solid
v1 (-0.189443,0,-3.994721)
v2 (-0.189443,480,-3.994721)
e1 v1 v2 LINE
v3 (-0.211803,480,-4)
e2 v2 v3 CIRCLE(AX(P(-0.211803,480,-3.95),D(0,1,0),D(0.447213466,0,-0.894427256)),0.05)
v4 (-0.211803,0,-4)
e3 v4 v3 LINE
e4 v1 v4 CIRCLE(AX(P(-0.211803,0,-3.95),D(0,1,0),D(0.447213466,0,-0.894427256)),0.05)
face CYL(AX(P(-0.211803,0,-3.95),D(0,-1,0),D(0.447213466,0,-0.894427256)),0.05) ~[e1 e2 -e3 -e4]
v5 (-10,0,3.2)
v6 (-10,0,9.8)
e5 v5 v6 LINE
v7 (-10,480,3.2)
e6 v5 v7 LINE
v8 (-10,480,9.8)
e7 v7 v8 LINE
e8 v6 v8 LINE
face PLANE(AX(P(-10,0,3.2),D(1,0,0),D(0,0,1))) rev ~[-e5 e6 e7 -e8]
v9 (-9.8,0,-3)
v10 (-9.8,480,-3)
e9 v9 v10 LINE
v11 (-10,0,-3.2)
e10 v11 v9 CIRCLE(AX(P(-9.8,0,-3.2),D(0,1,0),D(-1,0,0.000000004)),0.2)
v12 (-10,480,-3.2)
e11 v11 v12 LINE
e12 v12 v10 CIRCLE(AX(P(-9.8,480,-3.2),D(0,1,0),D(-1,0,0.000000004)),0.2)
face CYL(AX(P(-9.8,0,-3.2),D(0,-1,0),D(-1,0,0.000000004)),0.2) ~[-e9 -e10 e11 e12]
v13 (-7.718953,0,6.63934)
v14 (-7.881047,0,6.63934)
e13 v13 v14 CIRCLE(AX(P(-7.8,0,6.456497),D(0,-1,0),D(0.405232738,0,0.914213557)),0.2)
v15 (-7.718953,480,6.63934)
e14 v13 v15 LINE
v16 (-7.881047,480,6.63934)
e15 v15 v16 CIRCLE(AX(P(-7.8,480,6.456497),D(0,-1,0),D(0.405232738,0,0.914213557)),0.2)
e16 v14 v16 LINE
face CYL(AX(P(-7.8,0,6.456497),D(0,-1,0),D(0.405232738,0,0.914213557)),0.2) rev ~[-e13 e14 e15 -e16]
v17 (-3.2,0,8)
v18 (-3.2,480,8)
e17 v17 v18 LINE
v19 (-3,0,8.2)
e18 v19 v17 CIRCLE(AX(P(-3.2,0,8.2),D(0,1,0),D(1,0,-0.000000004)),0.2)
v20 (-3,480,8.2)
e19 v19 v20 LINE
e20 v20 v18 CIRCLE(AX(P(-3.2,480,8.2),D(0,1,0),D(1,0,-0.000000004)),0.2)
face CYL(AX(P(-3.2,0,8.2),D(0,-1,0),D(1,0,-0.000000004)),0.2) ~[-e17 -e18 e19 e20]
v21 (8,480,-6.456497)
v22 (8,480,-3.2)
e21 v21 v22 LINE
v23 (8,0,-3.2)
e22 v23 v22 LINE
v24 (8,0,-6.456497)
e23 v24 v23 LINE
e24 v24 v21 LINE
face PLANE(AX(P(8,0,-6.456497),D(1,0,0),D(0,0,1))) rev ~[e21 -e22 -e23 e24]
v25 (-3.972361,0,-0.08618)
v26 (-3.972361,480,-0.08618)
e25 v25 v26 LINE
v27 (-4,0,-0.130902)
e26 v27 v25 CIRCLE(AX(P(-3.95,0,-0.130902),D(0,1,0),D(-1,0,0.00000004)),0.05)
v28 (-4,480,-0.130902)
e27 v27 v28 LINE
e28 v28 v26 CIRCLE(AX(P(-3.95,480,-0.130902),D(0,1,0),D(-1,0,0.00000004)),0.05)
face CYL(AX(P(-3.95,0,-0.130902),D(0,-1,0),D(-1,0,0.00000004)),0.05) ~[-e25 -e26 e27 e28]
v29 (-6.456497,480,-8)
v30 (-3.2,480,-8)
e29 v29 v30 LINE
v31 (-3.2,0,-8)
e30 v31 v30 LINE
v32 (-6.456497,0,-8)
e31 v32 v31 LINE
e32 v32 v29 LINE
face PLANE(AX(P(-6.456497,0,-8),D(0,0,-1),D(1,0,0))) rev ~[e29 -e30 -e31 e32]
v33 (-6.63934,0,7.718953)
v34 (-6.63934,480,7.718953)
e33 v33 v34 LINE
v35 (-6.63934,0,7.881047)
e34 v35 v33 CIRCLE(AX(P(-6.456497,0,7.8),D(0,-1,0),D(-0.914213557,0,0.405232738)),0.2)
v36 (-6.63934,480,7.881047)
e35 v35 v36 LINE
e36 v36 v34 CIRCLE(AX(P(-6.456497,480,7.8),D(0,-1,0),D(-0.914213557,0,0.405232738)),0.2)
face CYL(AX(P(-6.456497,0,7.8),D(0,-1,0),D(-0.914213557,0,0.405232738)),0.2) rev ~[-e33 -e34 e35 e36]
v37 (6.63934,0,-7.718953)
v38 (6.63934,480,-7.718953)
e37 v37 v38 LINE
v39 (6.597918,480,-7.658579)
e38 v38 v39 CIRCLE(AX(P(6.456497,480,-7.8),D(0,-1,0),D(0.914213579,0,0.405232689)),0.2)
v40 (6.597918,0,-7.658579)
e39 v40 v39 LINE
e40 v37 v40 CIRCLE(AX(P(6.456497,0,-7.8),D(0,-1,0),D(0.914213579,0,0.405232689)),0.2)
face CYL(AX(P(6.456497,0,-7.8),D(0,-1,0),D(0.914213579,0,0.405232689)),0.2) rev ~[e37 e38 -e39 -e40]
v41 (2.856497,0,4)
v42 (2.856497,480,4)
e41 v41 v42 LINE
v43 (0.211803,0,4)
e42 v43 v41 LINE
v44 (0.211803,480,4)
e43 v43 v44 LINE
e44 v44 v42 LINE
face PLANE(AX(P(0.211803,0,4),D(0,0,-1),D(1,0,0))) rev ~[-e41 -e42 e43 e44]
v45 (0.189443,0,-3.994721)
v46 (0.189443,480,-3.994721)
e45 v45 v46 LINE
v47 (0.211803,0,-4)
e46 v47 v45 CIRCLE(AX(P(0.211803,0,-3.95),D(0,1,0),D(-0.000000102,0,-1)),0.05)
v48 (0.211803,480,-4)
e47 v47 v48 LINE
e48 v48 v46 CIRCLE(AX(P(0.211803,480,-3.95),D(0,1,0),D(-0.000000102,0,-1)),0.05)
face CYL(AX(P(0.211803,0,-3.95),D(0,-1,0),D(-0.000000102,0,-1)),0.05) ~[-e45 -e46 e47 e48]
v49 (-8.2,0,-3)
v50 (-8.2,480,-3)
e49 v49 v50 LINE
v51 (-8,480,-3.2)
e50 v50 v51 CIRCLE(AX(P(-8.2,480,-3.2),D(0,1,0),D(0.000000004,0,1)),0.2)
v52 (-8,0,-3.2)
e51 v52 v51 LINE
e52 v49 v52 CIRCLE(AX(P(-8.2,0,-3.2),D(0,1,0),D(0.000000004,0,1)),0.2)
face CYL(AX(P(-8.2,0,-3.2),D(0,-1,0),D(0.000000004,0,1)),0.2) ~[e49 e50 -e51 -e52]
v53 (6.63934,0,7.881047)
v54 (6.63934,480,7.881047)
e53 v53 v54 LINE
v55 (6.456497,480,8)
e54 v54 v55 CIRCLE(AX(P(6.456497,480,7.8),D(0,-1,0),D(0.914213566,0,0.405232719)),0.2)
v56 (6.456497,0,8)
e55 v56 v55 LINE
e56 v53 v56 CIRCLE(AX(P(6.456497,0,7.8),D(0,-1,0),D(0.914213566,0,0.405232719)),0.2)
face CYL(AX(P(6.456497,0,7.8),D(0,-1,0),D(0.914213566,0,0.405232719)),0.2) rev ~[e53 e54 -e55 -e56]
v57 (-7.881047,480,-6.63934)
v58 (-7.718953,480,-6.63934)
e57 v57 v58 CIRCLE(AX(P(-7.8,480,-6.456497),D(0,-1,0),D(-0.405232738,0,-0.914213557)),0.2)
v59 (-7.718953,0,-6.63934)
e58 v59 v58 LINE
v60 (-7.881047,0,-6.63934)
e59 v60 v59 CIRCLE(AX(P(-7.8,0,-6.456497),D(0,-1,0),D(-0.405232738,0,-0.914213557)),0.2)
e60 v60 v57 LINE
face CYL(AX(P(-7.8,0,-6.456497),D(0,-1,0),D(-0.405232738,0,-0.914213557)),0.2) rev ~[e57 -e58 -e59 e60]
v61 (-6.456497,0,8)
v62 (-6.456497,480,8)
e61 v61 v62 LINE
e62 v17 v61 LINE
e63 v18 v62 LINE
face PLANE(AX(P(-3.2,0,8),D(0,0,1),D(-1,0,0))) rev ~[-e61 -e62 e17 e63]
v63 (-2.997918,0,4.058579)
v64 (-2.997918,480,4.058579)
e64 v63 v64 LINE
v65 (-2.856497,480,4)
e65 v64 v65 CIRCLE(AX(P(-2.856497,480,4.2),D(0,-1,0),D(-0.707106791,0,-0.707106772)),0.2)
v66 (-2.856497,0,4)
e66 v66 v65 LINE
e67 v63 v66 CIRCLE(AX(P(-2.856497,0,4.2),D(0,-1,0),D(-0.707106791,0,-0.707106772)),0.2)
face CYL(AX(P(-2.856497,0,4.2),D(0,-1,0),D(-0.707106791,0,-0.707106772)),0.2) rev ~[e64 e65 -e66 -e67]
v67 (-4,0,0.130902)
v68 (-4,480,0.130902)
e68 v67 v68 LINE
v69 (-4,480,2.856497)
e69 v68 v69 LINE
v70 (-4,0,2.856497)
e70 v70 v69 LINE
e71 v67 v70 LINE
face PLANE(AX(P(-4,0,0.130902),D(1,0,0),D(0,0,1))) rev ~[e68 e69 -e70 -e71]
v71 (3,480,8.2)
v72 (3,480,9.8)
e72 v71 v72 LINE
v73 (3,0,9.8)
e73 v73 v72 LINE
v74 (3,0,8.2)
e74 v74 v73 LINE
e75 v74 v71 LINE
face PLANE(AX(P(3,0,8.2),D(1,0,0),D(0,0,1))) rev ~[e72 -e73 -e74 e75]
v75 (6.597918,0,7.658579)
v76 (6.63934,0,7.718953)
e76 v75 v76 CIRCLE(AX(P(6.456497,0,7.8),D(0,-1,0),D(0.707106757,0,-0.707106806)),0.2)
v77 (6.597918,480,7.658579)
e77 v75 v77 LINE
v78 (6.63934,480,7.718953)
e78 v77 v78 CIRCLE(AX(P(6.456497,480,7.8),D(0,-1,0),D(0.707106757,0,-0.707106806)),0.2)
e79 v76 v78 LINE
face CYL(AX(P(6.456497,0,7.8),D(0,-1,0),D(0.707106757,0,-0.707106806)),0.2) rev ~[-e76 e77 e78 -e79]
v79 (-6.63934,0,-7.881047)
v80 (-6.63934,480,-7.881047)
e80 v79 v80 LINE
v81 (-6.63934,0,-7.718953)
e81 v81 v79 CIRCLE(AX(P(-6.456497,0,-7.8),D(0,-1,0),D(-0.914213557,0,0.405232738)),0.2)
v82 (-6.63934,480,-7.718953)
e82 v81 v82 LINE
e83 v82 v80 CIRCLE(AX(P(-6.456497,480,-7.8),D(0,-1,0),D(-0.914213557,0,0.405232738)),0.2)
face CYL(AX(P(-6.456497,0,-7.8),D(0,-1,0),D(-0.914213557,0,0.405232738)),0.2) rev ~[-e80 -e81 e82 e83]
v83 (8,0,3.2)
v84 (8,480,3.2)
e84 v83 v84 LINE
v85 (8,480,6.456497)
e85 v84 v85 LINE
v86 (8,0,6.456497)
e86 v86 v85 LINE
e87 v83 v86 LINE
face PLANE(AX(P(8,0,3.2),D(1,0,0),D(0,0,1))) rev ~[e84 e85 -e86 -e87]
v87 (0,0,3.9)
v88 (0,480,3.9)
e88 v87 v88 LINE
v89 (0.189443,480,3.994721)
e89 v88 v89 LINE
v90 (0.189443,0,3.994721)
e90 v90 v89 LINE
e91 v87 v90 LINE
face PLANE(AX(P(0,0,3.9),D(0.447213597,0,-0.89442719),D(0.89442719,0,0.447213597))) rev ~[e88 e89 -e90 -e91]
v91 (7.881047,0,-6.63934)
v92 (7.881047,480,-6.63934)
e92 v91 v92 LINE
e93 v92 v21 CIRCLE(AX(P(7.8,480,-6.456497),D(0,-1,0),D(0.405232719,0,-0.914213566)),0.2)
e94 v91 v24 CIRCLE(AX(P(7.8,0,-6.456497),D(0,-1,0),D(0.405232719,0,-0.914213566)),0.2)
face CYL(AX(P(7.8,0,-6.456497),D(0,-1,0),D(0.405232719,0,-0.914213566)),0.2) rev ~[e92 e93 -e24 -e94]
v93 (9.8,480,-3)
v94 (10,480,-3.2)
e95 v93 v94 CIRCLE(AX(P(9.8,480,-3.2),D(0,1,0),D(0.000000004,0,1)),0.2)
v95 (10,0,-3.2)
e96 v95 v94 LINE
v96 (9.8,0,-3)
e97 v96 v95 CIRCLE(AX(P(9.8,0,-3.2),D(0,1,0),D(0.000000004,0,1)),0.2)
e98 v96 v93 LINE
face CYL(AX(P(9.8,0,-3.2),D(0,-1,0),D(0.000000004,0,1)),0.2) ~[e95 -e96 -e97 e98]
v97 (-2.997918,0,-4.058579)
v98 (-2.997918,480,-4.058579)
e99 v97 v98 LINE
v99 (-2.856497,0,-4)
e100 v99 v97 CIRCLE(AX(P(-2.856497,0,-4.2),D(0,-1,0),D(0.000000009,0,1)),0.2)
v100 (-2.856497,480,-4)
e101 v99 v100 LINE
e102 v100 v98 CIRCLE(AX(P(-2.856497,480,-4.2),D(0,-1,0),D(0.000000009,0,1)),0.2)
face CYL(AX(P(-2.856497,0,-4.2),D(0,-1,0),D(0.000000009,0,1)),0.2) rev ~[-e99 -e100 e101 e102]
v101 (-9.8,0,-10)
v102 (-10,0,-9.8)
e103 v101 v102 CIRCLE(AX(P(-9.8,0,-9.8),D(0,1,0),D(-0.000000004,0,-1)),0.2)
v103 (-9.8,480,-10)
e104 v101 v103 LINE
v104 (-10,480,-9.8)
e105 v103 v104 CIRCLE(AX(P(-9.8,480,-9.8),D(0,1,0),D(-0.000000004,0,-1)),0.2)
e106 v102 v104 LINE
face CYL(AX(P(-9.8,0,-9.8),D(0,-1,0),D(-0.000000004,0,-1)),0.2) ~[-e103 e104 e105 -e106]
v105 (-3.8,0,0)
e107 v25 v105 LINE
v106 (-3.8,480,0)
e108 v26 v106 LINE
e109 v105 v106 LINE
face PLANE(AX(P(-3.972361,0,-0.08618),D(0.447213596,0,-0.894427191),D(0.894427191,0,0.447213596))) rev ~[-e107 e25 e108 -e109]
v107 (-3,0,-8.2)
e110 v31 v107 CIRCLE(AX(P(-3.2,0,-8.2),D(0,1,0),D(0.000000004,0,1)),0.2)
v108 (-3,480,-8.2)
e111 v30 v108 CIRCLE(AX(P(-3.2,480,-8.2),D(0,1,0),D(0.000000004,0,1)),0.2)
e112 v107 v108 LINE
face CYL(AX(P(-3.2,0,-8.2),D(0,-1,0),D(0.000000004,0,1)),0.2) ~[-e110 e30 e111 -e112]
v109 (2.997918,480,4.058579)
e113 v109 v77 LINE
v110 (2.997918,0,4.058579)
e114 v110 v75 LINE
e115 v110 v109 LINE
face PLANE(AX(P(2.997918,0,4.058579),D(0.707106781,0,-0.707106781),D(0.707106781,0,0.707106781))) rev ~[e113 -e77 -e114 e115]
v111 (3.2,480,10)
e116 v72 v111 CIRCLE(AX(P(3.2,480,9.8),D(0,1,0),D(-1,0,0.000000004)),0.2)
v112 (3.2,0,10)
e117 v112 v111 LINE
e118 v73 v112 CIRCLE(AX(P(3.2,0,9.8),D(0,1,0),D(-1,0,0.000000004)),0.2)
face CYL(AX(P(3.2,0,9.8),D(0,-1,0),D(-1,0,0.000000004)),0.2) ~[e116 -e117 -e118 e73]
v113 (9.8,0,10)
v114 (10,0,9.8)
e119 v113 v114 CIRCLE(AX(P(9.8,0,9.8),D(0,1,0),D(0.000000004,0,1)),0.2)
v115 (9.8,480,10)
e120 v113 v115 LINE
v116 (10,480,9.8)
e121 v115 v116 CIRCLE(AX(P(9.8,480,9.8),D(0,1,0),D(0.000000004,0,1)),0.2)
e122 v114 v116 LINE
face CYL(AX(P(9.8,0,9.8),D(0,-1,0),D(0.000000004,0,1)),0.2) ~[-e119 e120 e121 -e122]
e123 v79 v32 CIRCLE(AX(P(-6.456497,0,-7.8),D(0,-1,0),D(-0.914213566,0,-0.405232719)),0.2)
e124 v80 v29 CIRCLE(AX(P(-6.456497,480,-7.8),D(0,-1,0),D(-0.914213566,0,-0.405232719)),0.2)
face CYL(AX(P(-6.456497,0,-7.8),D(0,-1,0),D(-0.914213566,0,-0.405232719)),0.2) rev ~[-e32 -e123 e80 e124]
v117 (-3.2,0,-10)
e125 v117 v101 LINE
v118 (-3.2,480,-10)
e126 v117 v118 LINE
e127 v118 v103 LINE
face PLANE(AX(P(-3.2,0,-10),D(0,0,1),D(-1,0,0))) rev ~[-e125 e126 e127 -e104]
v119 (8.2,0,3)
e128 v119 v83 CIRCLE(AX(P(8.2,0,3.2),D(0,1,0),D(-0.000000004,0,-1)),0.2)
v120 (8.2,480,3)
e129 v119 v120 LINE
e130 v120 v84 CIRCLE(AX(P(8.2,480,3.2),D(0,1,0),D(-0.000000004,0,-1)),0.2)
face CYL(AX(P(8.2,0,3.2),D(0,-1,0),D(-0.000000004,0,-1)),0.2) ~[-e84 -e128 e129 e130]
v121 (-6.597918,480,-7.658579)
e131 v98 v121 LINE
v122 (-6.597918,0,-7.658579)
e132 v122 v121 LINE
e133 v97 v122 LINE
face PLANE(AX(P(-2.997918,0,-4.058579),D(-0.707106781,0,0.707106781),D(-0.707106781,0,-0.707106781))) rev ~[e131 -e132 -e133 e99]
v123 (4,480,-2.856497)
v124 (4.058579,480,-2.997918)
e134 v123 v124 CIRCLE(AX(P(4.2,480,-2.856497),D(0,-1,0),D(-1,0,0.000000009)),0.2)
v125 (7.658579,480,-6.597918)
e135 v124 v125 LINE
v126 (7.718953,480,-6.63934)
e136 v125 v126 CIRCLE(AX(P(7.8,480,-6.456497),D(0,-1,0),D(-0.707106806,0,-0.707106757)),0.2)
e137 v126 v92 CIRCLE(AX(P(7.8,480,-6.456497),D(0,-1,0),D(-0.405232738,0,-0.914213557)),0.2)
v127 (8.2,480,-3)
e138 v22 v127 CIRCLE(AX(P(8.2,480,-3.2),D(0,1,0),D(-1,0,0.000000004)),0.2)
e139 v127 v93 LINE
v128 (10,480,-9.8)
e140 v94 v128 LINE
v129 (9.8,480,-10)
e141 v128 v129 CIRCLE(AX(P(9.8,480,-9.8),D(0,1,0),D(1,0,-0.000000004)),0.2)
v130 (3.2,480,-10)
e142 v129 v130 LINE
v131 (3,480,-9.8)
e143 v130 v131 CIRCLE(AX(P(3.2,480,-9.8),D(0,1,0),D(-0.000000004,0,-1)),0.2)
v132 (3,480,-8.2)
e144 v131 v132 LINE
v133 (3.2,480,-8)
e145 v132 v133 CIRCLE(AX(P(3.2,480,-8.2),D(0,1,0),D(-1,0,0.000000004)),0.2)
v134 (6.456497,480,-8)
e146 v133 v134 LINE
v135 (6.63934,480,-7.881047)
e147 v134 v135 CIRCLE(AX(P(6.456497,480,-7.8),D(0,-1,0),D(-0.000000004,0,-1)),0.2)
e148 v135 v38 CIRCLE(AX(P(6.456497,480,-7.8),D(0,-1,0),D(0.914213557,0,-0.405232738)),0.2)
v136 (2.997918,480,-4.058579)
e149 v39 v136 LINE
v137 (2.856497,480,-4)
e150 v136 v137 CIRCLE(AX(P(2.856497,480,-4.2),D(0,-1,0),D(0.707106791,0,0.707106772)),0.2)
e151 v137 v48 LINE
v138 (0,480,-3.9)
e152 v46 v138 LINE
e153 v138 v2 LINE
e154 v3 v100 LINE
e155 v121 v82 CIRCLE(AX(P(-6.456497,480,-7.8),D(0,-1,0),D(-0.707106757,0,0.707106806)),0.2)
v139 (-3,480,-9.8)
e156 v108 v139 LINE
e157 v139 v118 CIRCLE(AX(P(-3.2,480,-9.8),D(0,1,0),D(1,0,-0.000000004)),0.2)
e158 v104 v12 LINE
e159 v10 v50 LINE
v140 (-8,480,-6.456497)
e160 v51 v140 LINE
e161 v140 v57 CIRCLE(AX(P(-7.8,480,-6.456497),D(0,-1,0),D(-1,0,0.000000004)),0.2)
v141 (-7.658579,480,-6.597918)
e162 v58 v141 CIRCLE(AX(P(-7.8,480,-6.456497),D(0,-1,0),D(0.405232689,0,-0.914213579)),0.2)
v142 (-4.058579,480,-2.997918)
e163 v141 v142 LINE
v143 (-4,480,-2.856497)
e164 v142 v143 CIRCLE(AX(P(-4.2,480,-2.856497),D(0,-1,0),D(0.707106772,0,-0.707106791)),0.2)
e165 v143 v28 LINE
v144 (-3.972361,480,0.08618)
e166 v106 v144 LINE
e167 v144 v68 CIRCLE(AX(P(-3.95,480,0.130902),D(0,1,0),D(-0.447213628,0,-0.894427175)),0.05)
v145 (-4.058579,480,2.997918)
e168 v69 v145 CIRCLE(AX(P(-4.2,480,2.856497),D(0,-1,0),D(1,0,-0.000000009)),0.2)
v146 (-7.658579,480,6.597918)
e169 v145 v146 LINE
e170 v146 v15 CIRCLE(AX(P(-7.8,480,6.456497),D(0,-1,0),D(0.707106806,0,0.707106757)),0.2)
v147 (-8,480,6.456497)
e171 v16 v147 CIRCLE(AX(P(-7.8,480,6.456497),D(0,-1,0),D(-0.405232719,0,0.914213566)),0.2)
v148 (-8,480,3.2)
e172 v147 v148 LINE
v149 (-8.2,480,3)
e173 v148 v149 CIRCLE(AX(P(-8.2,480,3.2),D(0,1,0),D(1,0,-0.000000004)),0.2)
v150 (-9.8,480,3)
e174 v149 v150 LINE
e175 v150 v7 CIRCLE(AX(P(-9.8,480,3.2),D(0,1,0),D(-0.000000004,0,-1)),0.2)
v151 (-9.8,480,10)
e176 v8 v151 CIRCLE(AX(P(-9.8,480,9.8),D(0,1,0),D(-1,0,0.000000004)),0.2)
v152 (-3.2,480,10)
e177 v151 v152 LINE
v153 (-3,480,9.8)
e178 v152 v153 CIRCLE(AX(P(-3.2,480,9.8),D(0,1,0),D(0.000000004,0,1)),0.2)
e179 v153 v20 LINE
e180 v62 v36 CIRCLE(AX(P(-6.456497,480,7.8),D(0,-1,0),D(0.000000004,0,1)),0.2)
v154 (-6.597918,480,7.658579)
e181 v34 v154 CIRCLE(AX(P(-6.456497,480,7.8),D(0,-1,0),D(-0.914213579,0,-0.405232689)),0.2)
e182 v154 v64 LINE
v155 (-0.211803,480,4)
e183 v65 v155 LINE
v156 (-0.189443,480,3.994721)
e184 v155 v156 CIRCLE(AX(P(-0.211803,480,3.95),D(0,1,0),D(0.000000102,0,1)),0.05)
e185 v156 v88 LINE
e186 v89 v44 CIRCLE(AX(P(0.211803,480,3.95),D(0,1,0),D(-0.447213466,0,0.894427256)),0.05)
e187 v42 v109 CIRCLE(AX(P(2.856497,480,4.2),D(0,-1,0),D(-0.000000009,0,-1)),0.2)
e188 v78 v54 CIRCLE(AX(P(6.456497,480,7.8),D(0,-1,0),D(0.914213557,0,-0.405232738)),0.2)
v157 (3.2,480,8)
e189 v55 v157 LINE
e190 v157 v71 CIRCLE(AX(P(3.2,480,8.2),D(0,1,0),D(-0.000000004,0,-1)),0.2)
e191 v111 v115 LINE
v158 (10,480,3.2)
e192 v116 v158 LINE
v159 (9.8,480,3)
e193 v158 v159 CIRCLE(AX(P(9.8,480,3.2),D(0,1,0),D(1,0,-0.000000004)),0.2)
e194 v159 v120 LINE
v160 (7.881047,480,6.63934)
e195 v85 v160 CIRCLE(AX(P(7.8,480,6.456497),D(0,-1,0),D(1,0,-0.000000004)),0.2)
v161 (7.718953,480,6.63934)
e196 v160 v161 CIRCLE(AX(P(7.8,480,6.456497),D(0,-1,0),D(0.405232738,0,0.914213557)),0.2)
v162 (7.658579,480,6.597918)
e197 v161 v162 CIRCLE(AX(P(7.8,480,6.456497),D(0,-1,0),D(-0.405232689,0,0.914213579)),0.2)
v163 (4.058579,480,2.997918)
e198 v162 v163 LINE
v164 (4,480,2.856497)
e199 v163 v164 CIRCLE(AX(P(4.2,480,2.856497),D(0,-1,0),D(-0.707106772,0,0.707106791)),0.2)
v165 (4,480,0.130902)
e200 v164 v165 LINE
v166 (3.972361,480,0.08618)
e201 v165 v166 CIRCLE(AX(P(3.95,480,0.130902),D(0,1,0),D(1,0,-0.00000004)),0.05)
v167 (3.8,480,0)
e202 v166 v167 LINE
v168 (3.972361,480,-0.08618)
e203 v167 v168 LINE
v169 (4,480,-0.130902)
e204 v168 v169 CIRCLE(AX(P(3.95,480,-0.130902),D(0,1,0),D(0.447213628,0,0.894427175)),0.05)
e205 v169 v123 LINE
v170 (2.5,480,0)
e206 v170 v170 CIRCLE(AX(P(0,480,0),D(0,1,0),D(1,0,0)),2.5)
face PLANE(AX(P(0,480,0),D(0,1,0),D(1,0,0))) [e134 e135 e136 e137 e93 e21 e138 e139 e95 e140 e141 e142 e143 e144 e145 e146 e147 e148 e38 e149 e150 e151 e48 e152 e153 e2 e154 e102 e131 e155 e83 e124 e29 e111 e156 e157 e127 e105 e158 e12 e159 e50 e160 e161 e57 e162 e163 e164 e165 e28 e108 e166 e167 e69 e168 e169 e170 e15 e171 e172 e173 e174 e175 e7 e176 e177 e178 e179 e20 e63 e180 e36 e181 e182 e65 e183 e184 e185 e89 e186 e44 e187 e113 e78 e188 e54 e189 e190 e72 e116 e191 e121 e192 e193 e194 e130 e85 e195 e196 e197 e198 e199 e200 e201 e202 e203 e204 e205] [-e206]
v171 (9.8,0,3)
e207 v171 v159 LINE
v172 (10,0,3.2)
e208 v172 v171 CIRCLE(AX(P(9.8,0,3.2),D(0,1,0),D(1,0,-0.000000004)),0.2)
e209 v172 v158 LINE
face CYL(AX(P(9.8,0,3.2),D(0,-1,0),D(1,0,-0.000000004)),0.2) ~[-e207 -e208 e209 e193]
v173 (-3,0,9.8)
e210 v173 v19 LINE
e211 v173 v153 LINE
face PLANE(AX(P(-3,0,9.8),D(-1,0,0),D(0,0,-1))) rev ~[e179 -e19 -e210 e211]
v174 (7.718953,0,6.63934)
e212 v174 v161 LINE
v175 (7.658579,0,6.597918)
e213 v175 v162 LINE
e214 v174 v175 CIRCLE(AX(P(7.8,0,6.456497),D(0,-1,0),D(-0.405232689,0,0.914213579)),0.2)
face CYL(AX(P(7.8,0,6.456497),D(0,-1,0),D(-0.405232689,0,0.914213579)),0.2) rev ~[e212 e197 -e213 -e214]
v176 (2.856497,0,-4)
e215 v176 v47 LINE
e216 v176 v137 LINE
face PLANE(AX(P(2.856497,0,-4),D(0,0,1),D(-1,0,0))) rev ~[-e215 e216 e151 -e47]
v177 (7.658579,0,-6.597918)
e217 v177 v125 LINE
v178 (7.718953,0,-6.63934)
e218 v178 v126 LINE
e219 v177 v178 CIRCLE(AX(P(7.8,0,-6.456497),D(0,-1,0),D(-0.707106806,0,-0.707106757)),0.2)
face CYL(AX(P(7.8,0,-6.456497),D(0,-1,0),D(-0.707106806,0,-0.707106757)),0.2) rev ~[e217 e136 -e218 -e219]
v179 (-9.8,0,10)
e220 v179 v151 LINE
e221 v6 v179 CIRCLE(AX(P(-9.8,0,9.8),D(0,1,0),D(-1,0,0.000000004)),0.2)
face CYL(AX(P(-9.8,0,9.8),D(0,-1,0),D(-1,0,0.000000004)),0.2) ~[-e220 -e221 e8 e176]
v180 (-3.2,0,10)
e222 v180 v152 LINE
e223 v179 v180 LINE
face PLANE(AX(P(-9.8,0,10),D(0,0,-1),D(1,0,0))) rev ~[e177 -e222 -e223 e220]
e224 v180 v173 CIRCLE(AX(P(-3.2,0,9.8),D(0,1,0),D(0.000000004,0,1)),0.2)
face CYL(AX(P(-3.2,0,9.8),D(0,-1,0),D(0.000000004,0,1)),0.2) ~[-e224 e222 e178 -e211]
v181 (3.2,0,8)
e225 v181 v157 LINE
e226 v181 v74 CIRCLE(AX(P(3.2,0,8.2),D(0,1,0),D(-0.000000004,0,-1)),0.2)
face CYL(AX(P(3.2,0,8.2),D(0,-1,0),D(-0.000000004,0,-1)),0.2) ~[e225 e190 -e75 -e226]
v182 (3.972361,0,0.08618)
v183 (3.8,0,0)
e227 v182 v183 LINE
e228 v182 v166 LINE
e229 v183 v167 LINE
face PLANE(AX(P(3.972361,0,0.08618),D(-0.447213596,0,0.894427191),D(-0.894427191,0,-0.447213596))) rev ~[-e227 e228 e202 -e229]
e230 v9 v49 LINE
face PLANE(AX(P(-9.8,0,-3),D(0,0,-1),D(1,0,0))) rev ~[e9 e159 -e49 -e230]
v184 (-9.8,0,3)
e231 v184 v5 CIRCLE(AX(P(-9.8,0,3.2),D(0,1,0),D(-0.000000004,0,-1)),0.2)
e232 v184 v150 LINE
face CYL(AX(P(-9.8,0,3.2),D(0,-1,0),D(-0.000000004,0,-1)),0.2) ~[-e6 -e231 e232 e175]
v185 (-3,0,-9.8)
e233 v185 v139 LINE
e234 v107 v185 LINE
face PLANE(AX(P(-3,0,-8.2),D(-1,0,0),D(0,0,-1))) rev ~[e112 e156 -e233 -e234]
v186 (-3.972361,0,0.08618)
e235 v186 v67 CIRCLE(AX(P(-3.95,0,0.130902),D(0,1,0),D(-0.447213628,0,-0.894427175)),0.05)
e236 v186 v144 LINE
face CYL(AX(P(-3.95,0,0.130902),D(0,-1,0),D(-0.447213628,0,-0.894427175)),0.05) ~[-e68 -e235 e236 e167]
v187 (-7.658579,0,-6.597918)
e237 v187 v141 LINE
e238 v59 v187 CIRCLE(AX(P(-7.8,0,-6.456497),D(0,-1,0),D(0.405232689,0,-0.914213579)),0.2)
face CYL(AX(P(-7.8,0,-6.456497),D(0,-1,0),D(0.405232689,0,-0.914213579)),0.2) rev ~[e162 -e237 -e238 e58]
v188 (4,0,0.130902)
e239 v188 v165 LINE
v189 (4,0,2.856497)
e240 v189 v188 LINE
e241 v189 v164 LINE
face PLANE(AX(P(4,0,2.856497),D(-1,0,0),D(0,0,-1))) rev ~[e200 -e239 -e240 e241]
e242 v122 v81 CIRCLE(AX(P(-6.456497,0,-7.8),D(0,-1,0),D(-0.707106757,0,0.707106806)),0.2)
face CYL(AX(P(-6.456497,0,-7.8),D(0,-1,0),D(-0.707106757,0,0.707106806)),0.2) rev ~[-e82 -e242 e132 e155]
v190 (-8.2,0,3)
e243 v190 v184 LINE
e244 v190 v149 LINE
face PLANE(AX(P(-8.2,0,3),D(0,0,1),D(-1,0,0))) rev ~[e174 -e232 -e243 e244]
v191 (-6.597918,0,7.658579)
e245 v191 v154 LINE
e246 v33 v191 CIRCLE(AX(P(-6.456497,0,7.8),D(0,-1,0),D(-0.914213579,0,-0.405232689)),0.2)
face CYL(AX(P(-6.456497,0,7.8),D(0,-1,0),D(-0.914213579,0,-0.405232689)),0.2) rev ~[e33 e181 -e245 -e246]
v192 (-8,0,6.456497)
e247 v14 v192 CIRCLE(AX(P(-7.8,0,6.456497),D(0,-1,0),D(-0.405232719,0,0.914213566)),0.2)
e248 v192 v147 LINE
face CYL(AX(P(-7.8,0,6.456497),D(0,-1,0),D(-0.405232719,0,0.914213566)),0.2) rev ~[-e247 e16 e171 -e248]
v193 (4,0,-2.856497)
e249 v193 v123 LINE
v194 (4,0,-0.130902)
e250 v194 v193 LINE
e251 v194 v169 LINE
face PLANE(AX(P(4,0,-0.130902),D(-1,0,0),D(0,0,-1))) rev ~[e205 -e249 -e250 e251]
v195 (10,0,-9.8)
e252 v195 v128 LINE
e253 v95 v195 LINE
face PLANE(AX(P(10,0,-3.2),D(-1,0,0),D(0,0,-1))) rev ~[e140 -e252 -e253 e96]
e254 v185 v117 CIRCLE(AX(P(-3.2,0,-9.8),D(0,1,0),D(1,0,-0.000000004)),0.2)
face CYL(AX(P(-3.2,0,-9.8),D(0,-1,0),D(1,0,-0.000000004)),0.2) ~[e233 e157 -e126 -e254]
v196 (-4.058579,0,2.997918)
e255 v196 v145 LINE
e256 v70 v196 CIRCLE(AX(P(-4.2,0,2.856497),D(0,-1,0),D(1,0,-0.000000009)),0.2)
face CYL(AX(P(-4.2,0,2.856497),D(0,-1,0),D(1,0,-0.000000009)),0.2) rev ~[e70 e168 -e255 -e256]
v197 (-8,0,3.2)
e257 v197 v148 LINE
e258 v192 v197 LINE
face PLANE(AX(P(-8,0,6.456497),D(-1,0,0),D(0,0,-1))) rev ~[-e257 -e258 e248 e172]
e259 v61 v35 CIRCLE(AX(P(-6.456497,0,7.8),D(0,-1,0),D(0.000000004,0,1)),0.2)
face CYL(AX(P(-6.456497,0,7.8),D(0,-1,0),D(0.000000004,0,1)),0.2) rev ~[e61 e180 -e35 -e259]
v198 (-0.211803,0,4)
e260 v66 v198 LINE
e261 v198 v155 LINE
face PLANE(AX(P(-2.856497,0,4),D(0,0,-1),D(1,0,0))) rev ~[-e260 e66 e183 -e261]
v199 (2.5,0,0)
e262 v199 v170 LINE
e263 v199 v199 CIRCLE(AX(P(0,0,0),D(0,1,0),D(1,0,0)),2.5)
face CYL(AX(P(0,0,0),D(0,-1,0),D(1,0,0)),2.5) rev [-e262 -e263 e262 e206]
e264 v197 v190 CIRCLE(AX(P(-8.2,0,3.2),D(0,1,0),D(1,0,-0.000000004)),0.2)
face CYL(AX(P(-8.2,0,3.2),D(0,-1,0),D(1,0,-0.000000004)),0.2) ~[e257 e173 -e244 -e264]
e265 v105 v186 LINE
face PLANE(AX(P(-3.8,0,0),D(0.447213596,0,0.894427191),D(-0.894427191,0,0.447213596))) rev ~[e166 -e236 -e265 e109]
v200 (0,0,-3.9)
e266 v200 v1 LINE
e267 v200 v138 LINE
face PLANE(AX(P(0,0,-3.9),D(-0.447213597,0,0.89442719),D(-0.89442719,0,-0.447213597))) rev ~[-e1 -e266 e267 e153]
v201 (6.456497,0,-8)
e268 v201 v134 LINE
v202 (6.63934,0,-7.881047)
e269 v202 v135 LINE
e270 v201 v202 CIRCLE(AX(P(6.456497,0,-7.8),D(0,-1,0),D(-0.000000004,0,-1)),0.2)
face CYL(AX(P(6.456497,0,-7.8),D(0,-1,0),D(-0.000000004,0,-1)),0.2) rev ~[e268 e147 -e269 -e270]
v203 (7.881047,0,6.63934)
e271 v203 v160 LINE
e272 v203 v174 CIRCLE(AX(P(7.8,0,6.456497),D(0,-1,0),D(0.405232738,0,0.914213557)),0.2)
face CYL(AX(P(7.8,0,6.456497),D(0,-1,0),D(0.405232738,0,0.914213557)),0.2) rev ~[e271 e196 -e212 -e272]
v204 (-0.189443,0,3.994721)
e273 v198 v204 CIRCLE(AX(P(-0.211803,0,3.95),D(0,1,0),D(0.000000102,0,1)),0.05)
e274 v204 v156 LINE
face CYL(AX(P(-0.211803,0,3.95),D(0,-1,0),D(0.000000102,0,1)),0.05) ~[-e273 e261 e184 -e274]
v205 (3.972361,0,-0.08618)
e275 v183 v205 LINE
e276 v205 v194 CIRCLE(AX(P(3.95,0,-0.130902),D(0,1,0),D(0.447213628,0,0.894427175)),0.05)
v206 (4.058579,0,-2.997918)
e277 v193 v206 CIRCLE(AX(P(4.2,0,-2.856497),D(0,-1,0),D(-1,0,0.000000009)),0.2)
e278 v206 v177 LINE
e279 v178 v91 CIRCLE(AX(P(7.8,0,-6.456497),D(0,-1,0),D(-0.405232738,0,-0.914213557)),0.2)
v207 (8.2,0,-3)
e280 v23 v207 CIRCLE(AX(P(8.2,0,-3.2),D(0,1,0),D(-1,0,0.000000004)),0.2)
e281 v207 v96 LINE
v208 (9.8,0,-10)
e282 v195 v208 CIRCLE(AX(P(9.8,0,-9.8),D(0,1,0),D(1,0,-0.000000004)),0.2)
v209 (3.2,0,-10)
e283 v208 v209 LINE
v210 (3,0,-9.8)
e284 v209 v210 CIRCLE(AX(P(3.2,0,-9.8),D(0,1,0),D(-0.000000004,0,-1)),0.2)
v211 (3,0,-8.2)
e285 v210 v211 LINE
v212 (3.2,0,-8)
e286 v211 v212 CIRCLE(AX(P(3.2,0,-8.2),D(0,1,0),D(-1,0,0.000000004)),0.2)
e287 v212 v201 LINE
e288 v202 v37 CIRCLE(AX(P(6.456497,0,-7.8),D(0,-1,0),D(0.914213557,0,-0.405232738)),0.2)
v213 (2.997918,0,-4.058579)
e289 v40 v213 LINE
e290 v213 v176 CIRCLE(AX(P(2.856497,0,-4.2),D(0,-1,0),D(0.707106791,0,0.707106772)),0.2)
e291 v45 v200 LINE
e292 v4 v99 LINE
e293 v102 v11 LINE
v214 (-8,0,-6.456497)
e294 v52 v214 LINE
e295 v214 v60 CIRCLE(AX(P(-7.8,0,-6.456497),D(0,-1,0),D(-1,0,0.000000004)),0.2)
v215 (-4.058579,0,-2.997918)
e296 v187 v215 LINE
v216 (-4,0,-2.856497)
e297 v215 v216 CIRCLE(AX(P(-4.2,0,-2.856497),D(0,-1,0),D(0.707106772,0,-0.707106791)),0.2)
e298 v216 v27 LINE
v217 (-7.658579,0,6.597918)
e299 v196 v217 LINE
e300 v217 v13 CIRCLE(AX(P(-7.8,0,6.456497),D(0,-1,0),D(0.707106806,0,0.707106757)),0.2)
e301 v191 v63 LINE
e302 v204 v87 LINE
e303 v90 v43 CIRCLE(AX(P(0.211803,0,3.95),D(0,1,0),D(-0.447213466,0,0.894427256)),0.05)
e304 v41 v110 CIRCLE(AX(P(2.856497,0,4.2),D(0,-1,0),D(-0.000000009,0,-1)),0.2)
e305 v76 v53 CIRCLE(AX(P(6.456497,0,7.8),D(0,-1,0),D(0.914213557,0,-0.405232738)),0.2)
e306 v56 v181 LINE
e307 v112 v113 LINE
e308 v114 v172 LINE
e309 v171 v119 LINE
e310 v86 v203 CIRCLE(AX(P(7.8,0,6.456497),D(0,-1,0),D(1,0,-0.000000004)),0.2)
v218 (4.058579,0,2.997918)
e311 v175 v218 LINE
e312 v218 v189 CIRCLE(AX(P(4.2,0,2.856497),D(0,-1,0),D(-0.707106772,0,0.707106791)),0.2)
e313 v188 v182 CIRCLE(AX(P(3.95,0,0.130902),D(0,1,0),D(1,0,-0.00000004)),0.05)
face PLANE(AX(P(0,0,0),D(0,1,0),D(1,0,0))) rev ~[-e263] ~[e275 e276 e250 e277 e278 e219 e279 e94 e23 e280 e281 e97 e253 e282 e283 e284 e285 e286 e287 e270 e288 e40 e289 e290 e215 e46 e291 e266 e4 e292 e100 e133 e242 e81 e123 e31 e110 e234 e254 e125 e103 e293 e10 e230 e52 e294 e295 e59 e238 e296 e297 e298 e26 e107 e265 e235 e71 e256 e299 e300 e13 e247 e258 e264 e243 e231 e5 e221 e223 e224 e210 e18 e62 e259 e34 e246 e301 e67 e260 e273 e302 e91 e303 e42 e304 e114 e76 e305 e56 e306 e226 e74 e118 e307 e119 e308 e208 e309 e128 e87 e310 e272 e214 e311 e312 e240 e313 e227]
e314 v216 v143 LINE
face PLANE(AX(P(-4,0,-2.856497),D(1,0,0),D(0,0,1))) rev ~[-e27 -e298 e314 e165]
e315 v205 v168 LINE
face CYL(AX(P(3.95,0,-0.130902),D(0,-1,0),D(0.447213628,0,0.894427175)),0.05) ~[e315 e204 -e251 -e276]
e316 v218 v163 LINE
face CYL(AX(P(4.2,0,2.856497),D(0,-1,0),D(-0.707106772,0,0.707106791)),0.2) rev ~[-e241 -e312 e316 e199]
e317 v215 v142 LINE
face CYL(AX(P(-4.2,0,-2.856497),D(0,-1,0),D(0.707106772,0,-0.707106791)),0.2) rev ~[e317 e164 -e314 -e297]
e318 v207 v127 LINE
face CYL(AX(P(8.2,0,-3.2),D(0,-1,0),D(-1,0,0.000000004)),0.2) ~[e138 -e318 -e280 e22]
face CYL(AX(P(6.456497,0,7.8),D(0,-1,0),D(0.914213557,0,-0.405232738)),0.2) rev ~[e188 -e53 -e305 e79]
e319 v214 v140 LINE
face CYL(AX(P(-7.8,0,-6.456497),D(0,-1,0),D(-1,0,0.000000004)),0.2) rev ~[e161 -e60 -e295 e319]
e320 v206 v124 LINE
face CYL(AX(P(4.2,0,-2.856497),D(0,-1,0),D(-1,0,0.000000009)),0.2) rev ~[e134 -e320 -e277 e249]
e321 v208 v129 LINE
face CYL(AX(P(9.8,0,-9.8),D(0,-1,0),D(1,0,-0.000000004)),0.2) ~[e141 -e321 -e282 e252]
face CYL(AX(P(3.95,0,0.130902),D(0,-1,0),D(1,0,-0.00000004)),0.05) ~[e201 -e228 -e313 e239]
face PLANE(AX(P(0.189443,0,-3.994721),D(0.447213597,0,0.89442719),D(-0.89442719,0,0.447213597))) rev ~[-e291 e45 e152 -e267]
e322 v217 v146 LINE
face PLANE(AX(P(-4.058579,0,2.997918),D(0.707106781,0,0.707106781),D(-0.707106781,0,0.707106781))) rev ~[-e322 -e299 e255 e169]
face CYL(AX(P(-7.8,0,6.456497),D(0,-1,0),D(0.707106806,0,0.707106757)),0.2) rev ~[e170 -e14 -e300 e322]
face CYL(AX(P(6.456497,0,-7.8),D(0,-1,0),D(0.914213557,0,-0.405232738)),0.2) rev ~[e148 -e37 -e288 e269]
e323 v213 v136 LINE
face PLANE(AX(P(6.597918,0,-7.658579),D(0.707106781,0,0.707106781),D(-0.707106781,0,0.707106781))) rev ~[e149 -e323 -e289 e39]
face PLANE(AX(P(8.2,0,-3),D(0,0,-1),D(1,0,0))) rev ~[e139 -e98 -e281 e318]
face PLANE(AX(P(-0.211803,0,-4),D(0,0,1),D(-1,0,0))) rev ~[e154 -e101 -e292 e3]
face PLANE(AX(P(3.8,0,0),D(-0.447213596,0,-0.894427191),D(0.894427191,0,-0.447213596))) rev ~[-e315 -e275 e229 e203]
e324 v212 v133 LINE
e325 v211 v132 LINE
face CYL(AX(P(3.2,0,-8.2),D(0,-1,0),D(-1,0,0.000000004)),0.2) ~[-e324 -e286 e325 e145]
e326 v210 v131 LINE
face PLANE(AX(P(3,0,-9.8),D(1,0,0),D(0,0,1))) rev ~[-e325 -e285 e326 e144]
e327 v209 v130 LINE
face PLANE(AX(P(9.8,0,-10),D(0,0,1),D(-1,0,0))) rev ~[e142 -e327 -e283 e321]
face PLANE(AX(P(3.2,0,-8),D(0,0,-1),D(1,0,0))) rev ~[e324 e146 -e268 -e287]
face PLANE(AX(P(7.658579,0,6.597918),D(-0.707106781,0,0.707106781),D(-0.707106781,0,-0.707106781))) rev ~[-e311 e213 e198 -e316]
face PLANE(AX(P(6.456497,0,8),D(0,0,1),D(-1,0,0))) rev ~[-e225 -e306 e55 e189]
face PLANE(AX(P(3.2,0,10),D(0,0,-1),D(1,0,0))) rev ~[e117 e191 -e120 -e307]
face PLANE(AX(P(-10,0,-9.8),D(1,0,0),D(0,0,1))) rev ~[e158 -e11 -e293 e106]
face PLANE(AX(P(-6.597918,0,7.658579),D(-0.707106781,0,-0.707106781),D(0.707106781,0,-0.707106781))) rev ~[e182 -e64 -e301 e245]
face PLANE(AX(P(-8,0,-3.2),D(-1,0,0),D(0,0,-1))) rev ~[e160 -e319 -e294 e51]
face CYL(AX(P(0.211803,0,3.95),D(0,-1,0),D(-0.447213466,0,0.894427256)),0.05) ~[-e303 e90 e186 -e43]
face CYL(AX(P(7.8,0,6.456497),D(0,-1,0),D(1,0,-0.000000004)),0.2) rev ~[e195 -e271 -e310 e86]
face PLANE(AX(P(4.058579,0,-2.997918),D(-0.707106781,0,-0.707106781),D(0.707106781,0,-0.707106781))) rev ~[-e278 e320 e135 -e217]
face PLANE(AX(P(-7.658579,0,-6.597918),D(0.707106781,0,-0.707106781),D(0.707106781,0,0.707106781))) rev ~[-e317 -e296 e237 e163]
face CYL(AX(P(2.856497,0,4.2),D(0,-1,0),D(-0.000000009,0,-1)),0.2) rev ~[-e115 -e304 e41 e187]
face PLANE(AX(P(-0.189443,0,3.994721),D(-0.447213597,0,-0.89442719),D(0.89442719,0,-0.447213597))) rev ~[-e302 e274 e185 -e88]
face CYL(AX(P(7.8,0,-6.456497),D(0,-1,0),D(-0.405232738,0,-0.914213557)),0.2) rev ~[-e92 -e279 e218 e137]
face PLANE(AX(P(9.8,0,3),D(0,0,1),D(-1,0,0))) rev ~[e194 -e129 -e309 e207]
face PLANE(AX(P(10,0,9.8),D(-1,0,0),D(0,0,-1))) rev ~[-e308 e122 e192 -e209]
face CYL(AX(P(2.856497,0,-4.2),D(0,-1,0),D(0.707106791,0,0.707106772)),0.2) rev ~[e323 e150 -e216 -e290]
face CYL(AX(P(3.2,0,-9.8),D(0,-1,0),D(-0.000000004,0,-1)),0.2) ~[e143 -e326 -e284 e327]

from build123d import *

# Parameters (mm, degrees)
SKETCH1_R           = 2.5
BOSS_EXTRUDE1_DEPTH = 480


with BuildPart() as part:
    # Sketch1 → Boss-Extrude1 (new body)
    with BuildSketch(Plane(origin=(0, 0, 0), x_dir=(1, 0, 0), z_dir=(0, 1, 0))):
        with BuildLine():
            Line((-2.997918472, 4.058578644), (-6.597918472, 7.658578644))
            ThreePointArc((-6.597918472, 7.658578644), (-6.621415508, 7.686854412), (-6.639339828, 7.718953455))
            ThreePointArc((-6.639339828, 7.718953455), (-6.656497116, 7.8), (-6.639339828, 7.881046545))
            ThreePointArc((-6.639339828, 7.881046545), (-6.565562901, 7.967644429), (-6.456497116, 8))
            Line((-6.456497116, 8), (-3.2, 8))
            ThreePointArc((-3.2, 8), (-3.058578644, 8.058578644), (-3, 8.2))
            Line((-3, 8.2), (-3, 9.8))
            ThreePointArc((-3, 9.8), (-3.058578644, 9.941421356), (-3.2, 10))
            Line((-3.2, 10), (-9.8, 10))
            ThreePointArc((-9.8, 10), (-9.941421356, 9.941421356), (-10, 9.8))
            Line((-10, 9.8), (-10, 3.2))
            ThreePointArc((-10, 3.2), (-9.941421356, 3.058578644), (-9.8, 3))
            Line((-9.8, 3), (-8.2, 3))
            ThreePointArc((-8.2, 3), (-8.058578644, 3.058578644), (-8, 3.2))
            Line((-8, 3.2), (-8, 6.456497116))
            ThreePointArc((-8, 6.456497116), (-7.967644429, 6.565562901), (-7.881046545, 6.639339828))
            ThreePointArc((-7.881046545, 6.639339828), (-7.8, 6.656497116), (-7.718953455, 6.639339828))
            ThreePointArc((-7.718953455, 6.639339828), (-7.686854412, 6.621415508), (-7.658578644, 6.597918472))
            Line((-7.658578644, 6.597918472), (-4.058578644, 2.997918472))
            ThreePointArc((-4.058578644, 2.997918472), (-4.015224093, 2.933033802), (-4, 2.856497116))
            Line((-4, 2.856497116), (-4, 0.130901699))
            ThreePointArc((-4, 0.130901699), (-3.99253254, 0.104615144), (-3.97236068, 0.08618034))
            Line((-3.97236068, 0.08618034), (-3.8, 0))
            Line((-3.8, 0), (-3.97236068, -0.08618034))
            ThreePointArc((-3.97236068, -0.08618034), (-3.99253254, -0.104615144), (-4, -0.130901699))
            Line((-4, -0.130901699), (-4, -2.856497116))
            ThreePointArc((-4, -2.856497116), (-4.015224093, -2.933033802), (-4.058578644, -2.997918472))
            Line((-4.058578644, -2.997918472), (-7.658578644, -6.597918472))
            ThreePointArc((-7.658578644, -6.597918472), (-7.686854412, -6.621415508), (-7.718953455, -6.639339828))
            ThreePointArc((-7.718953455, -6.639339828), (-7.8, -6.656497116), (-7.881046545, -6.639339828))
            ThreePointArc((-7.881046545, -6.639339828), (-7.967644429, -6.565562901), (-8, -6.456497116))
            Line((-8, -6.456497116), (-8, -3.2))
            ThreePointArc((-8, -3.2), (-8.058578644, -3.058578644), (-8.2, -3))
            Line((-8.2, -3), (-9.8, -3))
            ThreePointArc((-9.8, -3), (-9.941421356, -3.058578644), (-10, -3.2))
            Line((-10, -3.2), (-10, -9.8))
            ThreePointArc((-10, -9.8), (-9.941421356, -9.941421356), (-9.8, -10))
            Line((-9.8, -10), (-3.2, -10))
            ThreePointArc((-3.2, -10), (-3.058578644, -9.941421356), (-3, -9.8))
            Line((-3, -9.8), (-3, -8.2))
            ThreePointArc((-3, -8.2), (-3.058578644, -8.058578644), (-3.2, -8))
            Line((-3.2, -8), (-6.456497116, -8))
            ThreePointArc((-6.456497116, -8), (-6.565562901, -7.967644429), (-6.639339828, -7.881046545))
            ThreePointArc((-6.639339828, -7.881046545), (-6.656497116, -7.8), (-6.639339828, -7.718953455))
            ThreePointArc((-6.639339828, -7.718953455), (-6.621415508, -7.686854412), (-6.597918472, -7.658578644))
            Line((-6.597918472, -7.658578644), (-2.997918472, -4.058578644))
            ThreePointArc((-2.997918472, -4.058578644), (-2.933033802, -4.015224093), (-2.856497116, -4))
            Line((-2.856497116, -4), (-0.211803399, -4))
            ThreePointArc((-0.211803399, -4), (-0.200315753, -3.998662449), (-0.189442719, -3.99472136))
            Line((-0.189442719, -3.99472136), (0, -3.9))
            Line((0, -3.9), (0.189442719, -3.99472136))
            ThreePointArc((0.189442719, -3.99472136), (0.200315753, -3.998662449), (0.211803399, -4))
            Line((0.211803399, -4), (2.856497116, -4))
            ThreePointArc((2.856497116, -4), (2.933033802, -4.015224093), (2.997918472, -4.058578644))
            Line((2.997918472, -4.058578644), (6.597918472, -7.658578644))
            ThreePointArc((6.597918472, -7.658578644), (6.621415508, -7.686854412), (6.639339828, -7.718953455))
            ThreePointArc((6.639339828, -7.718953455), (6.656497116, -7.8), (6.639339828, -7.881046545))
            ThreePointArc((6.639339828, -7.881046545), (6.565562901, -7.967644429), (6.456497116, -8))
            Line((6.456497116, -8), (3.2, -8))
            ThreePointArc((3.2, -8), (3.058578644, -8.058578644), (3, -8.2))
            Line((3, -8.2), (3, -9.8))
            ThreePointArc((3, -9.8), (3.058578644, -9.941421356), (3.2, -10))
            Line((3.2, -10), (9.8, -10))
            ThreePointArc((9.8, -10), (9.941421356, -9.941421356), (10, -9.8))
            Line((10, -9.8), (10, -3.2))
            ThreePointArc((10, -3.2), (9.941421356, -3.058578644), (9.8, -3))
            Line((9.8, -3), (8.2, -3))
            ThreePointArc((8.2, -3), (8.058578644, -3.058578644), (8, -3.2))
            Line((8, -3.2), (8, -6.456497116))
            ThreePointArc((8, -6.456497116), (7.967644429, -6.565562901), (7.881046545, -6.639339828))
            ThreePointArc((7.881046545, -6.639339828), (7.8, -6.656497116), (7.718953455, -6.639339828))
            ThreePointArc((7.718953455, -6.639339828), (7.686854412, -6.621415508), (7.658578644, -6.597918472))
            Line((7.658578644, -6.597918472), (4.058578644, -2.997918472))
            ThreePointArc((4.058578644, -2.997918472), (4.015224093, -2.933033802), (4, -2.856497116))
            Line((4, -2.856497116), (4, -0.130901699))
            ThreePointArc((4, -0.130901699), (3.99253254, -0.104615144), (3.97236068, -0.08618034))
            Line((3.97236068, -0.08618034), (3.8, 0))
            Line((3.8, 0), (3.97236068, 0.08618034))
            ThreePointArc((3.97236068, 0.08618034), (3.99253254, 0.104615144), (4, 0.130901699))
            Line((4, 0.130901699), (4, 2.856497116))
            ThreePointArc((4, 2.856497116), (4.015224093, 2.933033802), (4.058578644, 2.997918472))
            Line((4.058578644, 2.997918472), (7.658578644, 6.597918472))
            ThreePointArc((7.658578644, 6.597918472), (7.686854412, 6.621415508), (7.718953455, 6.639339828))
            ThreePointArc((7.718953455, 6.639339828), (7.8, 6.656497116), (7.881046545, 6.639339828))
            ThreePointArc((7.881046545, 6.639339828), (7.967644429, 6.565562901), (8, 6.456497116))
            Line((8, 6.456497116), (8, 3.2))
            ThreePointArc((8, 3.2), (8.058578644, 3.058578644), (8.2, 3))
            Line((8.2, 3), (9.8, 3))
            ThreePointArc((9.8, 3), (9.941421356, 3.058578644), (10, 3.2))
            Line((10, 3.2), (10, 9.8))
            ThreePointArc((10, 9.8), (9.941421356, 9.941421356), (9.8, 10))
            Line((9.8, 10), (3.2, 10))
            ThreePointArc((3.2, 10), (3.058578644, 9.941421356), (3, 9.8))
            Line((3, 9.8), (3, 8.2))
            ThreePointArc((3, 8.2), (3.058578644, 8.058578644), (3.2, 8))
            Line((3.2, 8), (6.456497116, 8))
            ThreePointArc((6.456497116, 8), (6.565562901, 7.967644429), (6.639339828, 7.881046545))
            ThreePointArc((6.639339828, 7.881046545), (6.656497116, 7.8), (6.639339828, 7.718953455))
            ThreePointArc((6.639339828, 7.718953455), (6.621415508, 7.686854412), (6.597918472, 7.658578644))
            Line((6.597918472, 7.658578644), (2.997918472, 4.058578644))
            ThreePointArc((2.997918472, 4.058578644), (2.933033802, 4.015224093), (2.856497116, 4))
            Line((2.856497116, 4), (0.211803399, 4))
            ThreePointArc((0.211803399, 4), (0.200315753, 3.998662449), (0.189442719, 3.99472136))
            Line((0.189442719, 3.99472136), (0, 3.9))
            Line((0, 3.9), (-0.189442719, 3.99472136))
            ThreePointArc((-0.189442719, 3.99472136), (-0.200315753, 3.998662449), (-0.211803399, 4))
            Line((-0.211803399, 4), (-2.856497116, 4))
            ThreePointArc((-2.856497116, 4), (-2.933033802, 4.015224093), (-2.997918472, 4.058578644))
        make_face()
        Circle(SKETCH1_R, mode=Mode.SUBTRACT)
    extrude(amount=BOSS_EXTRUDE1_DEPTH)


solid = part.part
